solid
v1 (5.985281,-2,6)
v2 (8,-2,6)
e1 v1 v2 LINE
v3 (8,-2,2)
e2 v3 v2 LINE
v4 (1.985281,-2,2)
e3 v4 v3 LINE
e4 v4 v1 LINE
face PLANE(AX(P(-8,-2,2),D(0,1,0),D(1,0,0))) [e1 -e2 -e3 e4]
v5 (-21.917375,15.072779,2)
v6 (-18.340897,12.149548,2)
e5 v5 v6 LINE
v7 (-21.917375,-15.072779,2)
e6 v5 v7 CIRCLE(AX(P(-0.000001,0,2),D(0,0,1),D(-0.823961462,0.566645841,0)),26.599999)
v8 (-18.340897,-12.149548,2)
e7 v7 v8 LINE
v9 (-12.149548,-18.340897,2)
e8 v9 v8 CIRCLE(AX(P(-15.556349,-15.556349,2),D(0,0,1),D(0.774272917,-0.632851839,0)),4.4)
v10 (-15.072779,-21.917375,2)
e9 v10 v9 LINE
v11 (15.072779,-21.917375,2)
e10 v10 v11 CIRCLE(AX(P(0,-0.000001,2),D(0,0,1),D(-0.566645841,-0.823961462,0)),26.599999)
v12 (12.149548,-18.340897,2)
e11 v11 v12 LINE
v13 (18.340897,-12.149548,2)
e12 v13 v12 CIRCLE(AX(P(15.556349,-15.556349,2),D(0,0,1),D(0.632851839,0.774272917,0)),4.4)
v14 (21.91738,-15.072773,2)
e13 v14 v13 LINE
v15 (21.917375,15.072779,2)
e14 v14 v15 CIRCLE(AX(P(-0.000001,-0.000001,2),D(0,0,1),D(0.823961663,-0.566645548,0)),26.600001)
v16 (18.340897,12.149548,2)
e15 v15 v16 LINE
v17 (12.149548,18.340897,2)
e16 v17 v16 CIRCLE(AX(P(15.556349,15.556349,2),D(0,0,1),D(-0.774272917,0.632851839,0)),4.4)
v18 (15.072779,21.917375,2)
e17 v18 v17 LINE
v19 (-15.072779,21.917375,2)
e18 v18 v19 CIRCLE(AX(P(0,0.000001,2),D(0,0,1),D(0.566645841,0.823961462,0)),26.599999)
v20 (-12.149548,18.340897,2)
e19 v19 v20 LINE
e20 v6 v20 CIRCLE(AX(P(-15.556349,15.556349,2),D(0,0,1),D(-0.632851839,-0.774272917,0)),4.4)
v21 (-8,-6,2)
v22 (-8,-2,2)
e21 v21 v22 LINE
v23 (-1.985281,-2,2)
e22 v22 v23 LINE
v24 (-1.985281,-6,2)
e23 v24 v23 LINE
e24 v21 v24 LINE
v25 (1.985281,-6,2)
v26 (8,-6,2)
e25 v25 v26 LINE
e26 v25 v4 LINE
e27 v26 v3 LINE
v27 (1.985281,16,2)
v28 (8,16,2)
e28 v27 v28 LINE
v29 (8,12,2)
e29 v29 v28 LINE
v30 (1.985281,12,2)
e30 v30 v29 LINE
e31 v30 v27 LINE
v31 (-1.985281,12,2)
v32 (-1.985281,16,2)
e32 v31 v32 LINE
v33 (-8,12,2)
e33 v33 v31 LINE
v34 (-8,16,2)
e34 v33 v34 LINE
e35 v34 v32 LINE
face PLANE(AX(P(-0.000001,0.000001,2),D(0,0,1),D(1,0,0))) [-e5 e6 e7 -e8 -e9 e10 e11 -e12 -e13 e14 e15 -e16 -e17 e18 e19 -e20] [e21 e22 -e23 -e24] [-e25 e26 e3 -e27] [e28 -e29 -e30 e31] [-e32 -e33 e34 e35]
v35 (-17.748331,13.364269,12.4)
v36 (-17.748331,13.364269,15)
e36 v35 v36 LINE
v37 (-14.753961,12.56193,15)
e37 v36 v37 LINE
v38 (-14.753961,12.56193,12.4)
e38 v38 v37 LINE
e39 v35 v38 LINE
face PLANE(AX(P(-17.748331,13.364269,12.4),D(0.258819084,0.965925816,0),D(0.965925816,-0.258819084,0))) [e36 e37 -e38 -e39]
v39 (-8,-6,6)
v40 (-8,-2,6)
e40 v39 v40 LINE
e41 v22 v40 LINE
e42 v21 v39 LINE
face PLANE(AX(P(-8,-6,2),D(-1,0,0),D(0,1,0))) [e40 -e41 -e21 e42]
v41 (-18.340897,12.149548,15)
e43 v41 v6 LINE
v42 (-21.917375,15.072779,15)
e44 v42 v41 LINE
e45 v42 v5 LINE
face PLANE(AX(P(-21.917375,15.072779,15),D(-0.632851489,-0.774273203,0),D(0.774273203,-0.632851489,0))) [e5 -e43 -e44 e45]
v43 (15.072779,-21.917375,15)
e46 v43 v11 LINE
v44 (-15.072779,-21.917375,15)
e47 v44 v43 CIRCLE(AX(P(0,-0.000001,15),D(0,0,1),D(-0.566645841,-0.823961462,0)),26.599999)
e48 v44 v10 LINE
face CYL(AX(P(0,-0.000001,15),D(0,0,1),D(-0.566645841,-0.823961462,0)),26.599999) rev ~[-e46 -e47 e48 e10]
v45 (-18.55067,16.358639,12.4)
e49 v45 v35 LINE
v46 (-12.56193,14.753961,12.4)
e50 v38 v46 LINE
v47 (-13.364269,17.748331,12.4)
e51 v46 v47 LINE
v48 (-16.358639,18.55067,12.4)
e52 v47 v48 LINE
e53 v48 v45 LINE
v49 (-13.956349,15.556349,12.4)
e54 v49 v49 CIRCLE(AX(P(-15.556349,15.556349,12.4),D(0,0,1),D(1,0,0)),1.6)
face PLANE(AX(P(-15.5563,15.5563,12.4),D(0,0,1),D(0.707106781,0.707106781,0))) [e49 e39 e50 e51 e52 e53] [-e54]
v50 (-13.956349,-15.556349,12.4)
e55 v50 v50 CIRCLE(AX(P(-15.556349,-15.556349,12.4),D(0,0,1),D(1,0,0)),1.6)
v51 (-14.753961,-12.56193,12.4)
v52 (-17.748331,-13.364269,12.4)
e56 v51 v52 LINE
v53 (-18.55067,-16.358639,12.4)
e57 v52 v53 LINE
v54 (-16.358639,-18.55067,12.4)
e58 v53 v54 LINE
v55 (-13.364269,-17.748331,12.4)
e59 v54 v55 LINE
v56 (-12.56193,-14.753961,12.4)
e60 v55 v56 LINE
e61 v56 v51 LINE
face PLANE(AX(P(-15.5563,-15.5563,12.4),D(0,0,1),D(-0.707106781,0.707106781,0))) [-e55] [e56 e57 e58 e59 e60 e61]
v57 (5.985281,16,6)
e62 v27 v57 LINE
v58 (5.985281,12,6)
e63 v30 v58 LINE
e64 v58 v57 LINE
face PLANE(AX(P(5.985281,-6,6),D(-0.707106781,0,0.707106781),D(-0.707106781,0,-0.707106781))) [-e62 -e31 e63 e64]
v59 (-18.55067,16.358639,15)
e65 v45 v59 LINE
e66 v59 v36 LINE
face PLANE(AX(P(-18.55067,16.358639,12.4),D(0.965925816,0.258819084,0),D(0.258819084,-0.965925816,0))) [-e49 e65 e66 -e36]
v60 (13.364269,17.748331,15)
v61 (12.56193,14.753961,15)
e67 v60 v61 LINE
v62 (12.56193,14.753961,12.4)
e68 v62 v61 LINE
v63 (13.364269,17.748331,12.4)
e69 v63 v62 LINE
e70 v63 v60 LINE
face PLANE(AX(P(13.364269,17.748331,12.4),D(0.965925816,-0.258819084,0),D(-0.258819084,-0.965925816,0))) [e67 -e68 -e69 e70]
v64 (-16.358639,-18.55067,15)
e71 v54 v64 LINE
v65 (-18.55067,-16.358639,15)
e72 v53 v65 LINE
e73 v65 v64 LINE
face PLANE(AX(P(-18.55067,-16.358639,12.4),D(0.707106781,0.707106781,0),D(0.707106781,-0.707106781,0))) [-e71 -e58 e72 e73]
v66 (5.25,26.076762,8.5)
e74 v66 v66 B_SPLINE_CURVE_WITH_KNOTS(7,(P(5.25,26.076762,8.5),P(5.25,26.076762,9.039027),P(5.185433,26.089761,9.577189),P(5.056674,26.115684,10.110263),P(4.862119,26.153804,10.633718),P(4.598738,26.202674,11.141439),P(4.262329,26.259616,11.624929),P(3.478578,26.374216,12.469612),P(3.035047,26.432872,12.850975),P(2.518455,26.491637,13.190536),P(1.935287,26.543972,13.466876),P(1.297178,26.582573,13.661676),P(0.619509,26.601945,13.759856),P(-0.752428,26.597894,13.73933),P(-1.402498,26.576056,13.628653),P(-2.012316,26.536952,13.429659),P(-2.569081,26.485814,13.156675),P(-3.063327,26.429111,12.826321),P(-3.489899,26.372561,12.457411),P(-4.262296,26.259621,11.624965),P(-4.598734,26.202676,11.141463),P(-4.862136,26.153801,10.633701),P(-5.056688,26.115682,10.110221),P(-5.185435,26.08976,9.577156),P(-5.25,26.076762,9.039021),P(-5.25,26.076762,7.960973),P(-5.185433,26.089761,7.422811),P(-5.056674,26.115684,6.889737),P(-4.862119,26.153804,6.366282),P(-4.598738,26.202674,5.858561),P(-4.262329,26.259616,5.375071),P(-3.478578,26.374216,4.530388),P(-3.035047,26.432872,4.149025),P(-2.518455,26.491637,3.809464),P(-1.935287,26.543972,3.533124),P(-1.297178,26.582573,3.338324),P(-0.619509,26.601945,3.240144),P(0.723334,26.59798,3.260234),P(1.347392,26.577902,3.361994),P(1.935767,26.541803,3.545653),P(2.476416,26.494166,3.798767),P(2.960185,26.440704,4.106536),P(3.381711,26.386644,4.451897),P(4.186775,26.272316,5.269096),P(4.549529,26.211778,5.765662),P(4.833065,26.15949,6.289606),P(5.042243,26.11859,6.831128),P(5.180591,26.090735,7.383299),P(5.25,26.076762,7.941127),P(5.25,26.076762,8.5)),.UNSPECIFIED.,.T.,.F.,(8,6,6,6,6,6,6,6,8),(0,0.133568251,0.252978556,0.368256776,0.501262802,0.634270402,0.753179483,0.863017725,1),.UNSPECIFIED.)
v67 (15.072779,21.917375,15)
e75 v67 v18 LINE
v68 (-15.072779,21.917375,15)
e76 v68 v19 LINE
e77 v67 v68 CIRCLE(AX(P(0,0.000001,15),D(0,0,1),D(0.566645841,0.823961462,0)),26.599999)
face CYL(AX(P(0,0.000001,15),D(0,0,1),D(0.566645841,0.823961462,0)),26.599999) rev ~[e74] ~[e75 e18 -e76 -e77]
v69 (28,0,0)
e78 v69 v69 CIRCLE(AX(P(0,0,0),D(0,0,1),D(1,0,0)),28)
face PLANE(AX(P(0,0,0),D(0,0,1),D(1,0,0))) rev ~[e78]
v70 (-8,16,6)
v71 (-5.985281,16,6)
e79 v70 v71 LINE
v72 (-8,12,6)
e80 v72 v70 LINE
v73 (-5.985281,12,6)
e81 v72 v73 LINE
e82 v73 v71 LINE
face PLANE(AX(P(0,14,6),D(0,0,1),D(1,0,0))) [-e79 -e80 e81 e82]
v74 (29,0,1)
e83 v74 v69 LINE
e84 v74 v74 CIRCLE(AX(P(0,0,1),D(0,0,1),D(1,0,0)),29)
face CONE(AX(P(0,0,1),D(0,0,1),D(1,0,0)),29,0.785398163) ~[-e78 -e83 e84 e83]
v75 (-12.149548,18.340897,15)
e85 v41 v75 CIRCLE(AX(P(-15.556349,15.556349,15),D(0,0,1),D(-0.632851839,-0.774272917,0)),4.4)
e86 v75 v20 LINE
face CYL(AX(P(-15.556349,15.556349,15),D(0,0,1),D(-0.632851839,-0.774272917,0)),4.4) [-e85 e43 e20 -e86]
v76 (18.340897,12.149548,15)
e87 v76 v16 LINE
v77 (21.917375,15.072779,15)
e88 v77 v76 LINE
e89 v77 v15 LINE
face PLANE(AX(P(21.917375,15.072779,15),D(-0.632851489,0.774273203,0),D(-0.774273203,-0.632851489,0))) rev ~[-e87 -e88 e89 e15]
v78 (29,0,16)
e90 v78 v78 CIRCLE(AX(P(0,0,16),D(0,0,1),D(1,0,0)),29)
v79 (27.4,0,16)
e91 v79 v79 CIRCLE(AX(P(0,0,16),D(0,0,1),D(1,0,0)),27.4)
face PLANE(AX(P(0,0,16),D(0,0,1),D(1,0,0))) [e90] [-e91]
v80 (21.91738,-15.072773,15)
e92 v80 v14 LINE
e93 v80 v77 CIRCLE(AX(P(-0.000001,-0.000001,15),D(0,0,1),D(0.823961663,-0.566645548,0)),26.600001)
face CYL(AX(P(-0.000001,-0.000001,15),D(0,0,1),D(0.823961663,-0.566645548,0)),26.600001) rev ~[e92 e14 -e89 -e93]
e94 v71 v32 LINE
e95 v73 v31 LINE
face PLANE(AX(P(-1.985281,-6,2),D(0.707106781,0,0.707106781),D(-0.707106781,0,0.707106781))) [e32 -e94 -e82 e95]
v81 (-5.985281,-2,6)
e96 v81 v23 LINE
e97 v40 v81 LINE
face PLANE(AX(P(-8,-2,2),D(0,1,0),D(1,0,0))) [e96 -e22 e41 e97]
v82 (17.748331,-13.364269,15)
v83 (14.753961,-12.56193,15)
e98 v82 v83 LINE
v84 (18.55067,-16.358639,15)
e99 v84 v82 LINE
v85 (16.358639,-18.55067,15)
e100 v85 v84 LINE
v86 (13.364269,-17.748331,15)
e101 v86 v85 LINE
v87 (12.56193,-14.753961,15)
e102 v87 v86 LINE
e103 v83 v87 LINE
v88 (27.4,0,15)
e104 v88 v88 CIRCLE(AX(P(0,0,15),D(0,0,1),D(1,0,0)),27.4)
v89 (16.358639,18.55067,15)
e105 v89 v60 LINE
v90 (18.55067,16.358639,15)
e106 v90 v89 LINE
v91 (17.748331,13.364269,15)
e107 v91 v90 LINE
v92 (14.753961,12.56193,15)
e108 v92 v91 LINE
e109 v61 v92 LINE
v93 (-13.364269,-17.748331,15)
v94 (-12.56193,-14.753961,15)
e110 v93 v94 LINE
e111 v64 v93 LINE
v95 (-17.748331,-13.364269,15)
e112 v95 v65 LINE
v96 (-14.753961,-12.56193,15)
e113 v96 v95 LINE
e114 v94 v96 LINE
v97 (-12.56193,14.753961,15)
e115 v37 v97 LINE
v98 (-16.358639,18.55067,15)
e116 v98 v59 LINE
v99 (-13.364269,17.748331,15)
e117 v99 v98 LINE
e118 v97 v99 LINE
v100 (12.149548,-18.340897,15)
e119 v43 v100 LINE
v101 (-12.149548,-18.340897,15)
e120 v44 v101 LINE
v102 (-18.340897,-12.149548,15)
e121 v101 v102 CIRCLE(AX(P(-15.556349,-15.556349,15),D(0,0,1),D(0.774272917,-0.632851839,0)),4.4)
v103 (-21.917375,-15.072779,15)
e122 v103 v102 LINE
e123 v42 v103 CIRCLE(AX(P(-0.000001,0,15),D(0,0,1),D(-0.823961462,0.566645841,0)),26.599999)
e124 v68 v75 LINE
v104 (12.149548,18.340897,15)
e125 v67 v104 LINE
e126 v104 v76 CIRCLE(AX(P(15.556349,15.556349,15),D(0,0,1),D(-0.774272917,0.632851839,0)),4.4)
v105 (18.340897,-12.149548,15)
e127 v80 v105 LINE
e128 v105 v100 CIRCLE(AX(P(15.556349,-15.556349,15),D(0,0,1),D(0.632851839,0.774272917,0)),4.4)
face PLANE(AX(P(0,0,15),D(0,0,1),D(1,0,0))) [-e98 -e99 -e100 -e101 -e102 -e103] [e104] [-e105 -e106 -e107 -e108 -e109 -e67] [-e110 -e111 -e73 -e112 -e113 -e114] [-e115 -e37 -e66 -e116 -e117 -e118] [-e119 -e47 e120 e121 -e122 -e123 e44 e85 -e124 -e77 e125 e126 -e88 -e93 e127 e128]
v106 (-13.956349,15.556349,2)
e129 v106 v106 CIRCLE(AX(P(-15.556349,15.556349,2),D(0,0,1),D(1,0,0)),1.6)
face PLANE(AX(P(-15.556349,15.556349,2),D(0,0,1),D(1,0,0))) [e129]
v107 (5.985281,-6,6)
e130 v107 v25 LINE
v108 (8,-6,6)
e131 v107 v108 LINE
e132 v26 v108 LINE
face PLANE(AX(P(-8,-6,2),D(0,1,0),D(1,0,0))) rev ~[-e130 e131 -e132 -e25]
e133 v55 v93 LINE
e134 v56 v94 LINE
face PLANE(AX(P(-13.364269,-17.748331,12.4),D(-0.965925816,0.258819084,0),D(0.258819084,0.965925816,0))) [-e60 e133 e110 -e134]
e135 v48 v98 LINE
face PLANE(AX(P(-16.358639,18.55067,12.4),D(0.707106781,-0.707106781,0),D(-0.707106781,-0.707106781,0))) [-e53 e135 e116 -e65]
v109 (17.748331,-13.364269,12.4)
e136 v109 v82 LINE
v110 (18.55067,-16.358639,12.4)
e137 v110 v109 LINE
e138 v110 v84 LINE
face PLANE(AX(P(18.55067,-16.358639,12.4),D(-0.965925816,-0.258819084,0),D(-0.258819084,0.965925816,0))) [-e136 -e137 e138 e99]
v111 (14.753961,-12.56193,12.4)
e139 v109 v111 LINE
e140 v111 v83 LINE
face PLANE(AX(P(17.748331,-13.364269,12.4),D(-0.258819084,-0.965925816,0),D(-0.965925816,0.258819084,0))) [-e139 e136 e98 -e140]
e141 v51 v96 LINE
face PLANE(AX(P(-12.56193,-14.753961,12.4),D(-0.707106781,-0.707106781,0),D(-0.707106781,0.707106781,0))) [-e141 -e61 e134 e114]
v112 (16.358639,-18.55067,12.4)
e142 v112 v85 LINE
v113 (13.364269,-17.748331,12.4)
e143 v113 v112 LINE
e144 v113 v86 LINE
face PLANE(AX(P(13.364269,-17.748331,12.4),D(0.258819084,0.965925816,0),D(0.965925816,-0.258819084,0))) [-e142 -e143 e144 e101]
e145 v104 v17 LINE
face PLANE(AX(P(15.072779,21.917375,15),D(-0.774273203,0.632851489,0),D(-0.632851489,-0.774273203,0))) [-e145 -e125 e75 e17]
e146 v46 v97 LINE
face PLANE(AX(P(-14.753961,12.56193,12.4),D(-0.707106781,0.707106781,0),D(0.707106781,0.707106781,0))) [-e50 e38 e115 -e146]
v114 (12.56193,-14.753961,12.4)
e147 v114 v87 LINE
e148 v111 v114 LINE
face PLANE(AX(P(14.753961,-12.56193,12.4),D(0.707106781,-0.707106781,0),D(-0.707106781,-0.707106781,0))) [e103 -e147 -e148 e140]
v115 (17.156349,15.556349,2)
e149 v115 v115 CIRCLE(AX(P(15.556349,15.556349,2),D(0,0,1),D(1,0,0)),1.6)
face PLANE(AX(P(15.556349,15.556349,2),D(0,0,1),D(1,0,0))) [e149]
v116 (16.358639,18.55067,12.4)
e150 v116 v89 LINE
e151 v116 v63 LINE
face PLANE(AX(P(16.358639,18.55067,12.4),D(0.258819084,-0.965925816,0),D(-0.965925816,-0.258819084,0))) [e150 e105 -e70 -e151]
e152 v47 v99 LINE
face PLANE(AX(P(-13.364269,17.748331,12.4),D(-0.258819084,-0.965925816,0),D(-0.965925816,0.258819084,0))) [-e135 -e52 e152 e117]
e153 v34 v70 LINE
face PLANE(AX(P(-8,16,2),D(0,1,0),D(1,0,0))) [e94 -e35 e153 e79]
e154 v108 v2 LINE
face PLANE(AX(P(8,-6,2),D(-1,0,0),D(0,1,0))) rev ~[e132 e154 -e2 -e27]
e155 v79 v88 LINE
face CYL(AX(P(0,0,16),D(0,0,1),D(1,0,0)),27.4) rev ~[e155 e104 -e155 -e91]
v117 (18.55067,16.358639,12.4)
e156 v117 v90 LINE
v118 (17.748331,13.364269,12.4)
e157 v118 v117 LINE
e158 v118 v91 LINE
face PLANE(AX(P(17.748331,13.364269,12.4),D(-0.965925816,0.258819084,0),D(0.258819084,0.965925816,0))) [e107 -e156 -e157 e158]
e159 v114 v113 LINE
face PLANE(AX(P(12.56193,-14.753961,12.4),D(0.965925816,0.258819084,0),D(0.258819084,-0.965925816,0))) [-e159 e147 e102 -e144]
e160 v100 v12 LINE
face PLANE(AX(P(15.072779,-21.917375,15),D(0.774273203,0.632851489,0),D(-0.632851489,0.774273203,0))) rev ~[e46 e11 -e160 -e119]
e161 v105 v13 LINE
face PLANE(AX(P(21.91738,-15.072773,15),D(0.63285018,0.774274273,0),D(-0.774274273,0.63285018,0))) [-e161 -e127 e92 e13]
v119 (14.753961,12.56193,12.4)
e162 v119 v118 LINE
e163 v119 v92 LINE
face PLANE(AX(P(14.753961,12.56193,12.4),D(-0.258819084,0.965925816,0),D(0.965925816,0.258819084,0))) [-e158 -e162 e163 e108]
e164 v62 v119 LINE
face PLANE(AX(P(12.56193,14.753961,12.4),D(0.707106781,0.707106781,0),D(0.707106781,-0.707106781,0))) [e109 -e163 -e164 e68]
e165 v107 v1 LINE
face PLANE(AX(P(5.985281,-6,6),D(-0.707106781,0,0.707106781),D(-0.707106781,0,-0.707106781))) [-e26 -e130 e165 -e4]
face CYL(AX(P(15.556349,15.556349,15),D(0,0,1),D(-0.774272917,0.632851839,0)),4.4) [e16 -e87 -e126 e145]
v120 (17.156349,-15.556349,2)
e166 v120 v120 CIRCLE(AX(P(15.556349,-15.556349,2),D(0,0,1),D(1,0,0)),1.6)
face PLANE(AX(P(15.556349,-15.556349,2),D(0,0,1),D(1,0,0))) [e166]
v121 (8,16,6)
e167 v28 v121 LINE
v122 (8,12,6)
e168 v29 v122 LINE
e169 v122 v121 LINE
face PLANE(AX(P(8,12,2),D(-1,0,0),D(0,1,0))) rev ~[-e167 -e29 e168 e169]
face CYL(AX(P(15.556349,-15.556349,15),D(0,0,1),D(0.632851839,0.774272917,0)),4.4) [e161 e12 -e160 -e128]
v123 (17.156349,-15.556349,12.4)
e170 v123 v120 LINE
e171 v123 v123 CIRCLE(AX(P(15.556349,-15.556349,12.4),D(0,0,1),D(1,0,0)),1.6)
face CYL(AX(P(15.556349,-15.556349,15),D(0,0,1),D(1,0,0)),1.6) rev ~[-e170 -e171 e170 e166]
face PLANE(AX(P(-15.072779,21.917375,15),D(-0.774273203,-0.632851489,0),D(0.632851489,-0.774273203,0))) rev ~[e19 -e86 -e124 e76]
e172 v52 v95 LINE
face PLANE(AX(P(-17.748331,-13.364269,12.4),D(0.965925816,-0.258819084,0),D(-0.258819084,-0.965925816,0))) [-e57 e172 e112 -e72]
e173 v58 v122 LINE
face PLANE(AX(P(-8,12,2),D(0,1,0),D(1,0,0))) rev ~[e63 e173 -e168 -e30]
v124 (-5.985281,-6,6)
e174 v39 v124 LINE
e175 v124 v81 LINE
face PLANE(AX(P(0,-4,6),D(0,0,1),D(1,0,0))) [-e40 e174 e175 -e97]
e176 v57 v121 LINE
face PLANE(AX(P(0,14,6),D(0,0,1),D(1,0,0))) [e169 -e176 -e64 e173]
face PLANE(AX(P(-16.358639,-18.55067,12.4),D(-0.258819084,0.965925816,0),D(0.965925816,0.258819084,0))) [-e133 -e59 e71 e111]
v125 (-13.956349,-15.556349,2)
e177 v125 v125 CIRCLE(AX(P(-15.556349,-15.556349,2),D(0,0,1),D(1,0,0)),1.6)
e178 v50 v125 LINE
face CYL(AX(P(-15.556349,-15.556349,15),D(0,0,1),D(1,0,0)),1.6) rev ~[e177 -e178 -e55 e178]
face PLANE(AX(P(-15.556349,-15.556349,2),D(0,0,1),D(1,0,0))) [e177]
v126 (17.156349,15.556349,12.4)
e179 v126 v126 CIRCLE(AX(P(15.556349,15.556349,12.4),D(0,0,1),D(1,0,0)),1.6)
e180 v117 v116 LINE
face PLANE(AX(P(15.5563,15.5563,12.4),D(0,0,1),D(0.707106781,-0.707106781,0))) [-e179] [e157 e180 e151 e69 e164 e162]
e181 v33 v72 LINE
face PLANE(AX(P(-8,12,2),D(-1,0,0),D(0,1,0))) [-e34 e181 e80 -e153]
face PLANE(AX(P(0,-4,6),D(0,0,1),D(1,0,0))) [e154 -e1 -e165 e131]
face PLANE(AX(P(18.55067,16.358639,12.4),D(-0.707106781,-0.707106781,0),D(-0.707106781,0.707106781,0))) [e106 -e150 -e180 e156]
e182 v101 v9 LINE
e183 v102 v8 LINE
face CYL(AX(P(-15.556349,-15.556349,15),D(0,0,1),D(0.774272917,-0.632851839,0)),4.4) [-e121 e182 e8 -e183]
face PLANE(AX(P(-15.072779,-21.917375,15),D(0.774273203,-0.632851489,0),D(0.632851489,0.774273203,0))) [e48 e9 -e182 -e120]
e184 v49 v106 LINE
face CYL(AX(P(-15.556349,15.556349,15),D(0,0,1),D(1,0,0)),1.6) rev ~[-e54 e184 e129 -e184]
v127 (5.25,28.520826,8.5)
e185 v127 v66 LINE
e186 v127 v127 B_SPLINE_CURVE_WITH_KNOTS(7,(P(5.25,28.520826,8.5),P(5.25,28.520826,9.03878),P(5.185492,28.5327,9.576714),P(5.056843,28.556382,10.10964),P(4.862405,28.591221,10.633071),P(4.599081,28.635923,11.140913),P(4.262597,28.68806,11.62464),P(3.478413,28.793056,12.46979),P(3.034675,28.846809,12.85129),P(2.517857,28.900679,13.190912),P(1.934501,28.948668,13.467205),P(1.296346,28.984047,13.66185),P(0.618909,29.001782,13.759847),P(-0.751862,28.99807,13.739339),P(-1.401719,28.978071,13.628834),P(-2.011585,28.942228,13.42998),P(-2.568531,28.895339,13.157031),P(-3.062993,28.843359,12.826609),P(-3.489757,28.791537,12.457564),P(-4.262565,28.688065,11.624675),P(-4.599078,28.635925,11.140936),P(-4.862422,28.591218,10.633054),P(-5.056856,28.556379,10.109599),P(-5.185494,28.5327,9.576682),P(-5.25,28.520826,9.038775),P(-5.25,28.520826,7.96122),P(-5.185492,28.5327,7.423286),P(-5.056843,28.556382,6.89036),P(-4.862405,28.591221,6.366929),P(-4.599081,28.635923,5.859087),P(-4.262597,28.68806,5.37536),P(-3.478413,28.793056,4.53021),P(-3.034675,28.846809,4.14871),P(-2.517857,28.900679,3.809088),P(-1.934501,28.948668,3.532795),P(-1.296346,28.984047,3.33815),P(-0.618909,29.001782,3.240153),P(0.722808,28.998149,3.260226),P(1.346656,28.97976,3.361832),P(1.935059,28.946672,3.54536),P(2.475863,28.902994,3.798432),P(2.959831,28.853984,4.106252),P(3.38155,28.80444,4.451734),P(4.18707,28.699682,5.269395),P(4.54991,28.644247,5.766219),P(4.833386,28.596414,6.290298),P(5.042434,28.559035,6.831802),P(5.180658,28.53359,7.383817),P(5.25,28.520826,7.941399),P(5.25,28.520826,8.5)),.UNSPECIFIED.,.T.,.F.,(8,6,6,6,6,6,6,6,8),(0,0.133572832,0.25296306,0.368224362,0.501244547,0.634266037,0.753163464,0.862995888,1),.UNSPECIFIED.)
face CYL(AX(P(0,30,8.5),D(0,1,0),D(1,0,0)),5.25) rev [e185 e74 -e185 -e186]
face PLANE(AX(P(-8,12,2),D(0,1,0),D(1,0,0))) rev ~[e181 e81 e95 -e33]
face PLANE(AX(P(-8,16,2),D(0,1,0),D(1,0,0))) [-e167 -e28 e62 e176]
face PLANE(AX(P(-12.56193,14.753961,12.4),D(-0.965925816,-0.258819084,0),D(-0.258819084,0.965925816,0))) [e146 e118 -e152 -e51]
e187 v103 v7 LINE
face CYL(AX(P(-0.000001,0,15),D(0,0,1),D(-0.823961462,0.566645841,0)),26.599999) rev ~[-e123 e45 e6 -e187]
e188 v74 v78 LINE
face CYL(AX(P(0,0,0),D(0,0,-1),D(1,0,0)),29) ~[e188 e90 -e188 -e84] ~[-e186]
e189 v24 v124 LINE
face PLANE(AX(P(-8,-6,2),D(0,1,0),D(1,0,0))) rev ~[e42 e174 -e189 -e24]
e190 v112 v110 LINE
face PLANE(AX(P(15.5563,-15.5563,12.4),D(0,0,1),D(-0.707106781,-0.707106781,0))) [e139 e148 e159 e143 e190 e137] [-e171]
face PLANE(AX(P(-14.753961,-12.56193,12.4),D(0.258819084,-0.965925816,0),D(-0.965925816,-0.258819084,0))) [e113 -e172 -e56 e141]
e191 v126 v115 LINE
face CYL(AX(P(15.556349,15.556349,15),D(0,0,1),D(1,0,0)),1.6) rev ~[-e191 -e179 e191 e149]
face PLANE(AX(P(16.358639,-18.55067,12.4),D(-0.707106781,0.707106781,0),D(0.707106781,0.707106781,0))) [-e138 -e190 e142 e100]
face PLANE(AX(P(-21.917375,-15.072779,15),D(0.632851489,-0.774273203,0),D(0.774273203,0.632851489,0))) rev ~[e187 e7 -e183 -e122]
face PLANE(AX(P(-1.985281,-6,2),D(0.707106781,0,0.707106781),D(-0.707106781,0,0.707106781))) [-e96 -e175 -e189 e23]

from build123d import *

# Parameters (mm, degrees)
PRISM002_DEPTH           = 2.6
PRISM002_PLACEMENT_ANGLE = 45
ARRAY_COUNT              = 4
CYLINDER003_R            = 5.25
CYLINDER003_DEPTH        = 36
CYLINDER003_ROLL_ANGLE   = 90
SKETCH011_R              = 29
PAD006_DEPTH             = 16
SKETCH_R                 = 27.4
POCKET_DEPTH             = 1
SKETCH012_R              = 1.6
POCKET003_DEPTH          = 13
SKETCH013_W              = 16
SKETCH013_H              = 4
PAD_DEPTH                = 4
POCKET004_DEPTH          = 24
CHAMFER_SIZE             = 1


with BuildPart() as array:
    # Prism002 → Prism002 (new body)
    with BuildSketch(Plane.XY):
        Polygon((3.1, 0), (1.55, 2.684679), (-1.55, 2.684679), (-3.1, 0), (-1.55, -2.684679), (1.55, -2.684679), align=None)
    extrude(amount=PRISM002_DEPTH)


with BuildPart() as array_1:
    # Prism002 placement: moved
    add(array.part.moved(Location((-15.5563, 15.5563, 12.4))).rotate(Axis((-15.5563, 15.5563, 12.4), (0, 0, 1)), PRISM002_PLACEMENT_ANGLE))

    # Array: Array ×4 about axis
    array_axis = Axis((0, 0, 0), (0, 0, 1))


with BuildPart() as array_2:
    add(array_1.part)
    for i in range(1, ARRAY_COUNT):
        add(array_1.part.rotate(array_axis, i * 360 / ARRAY_COUNT))


with BuildPart() as laser_pointer:
    # Cylinder003 → Cylinder003 (new body)
    with BuildSketch(Plane.XY):
        Circle(CYLINDER003_R)
    extrude(amount=CYLINDER003_DEPTH)


with BuildPart() as laser_pointer_1:
    # Cylinder003 roll: moved
    add(laser_pointer.part.rotate(Axis((0, 0, 0), (1, 0, 0)), CYLINDER003_ROLL_ANGLE))


with BuildPart() as laser_pointer_2:
    # Cylinder003 placement: moved
    add(laser_pointer_1.part.moved(Location((0, 30, 8.5))))


with BuildPart() as laser_enclosure:
    # Sketch011 → Pad006 (new body)
    with BuildSketch(Plane.XY):
        Circle(SKETCH011_R)
    extrude(amount=PAD006_DEPTH)

    # Sketch → Pocket (cut)
    with BuildSketch(Plane.XY.offset(16)):
        Circle(SKETCH_R)
    extrude(amount=-POCKET_DEPTH, mode=Mode.SUBTRACT)

    # Sketch012 → Pocket003 (cut)
    with BuildSketch(Plane.XY.offset(15)):
        with Locations((-15.556349, 15.556349)):
            Circle(SKETCH012_R)
        with Locations((-15.556349, -15.556349)):
            Circle(SKETCH012_R)
        with Locations((15.556349, -15.556349)):
            Circle(SKETCH012_R)
        with Locations((15.556349, 15.556349)):
            Circle(SKETCH012_R)
        with BuildLine():
            ThreePointArc((-15.072779, -21.917375), (0, -26.6), (15.072779, -21.917375))
            Line((15.072779, -21.917375), (12.149548, -18.340897))
            ThreePointArc((18.340897, -12.149548), (12.445079, -12.445079), (12.149548, -18.340897))
            Line((21.91738, -15.072773), (18.340897, -12.149548))
            ThreePointArc((21.91738, -15.072773), (26.6, 4e-06), (21.917375, 15.072779))
            Line((21.917375, 15.072779), (18.340897, 12.149548))
            ThreePointArc((12.149548, 18.340897), (12.445079, 12.445079), (18.340897, 12.149548))
            Line((15.072779, 21.917375), (12.149548, 18.340897))
            ThreePointArc((15.072779, 21.917375), (0, 26.6), (-15.072779, 21.917375))
            Line((-15.072779, 21.917375), (-12.149548, 18.340897))
            ThreePointArc((-18.340897, 12.149548), (-12.445079, 12.445079), (-12.149548, 18.340897))
            Line((-21.917375, 15.072779), (-18.340897, 12.149548))
            ThreePointArc((-21.917375, 15.072779), (-26.6, 0), (-21.917375, -15.072779))
            Line((-21.917375, -15.072779), (-18.340897, -12.149548))
            ThreePointArc((-12.149548, -18.340897), (-12.445079, -12.445079), (-18.340897, -12.149548))
            Line((-15.072779, -21.917375), (-12.149548, -18.340897))
        make_face()
    extrude(amount=-POCKET003_DEPTH, mode=Mode.SUBTRACT)

    # Sketch013 → Pad (new body)
    with BuildSketch(Plane.XY.offset(2)):
        with Locations((0, 14)):
            Rectangle(SKETCH013_W, SKETCH013_H)
        with Locations((0, -4)):
            Rectangle(SKETCH013_W, SKETCH013_H)
    extrude(amount=PAD_DEPTH)

    # Sketch014 → Pocket004 (cut)
    with BuildSketch(Plane.XZ.offset(6)):
        Polygon((5.985281, 6), (1.985281, 2), (-1.985281, 2), (-5.985281, 6), align=None)
    extrude(amount=-POCKET004_DEPTH, mode=Mode.SUBTRACT)

    # Cut: cut Laser pointer
    add(laser_pointer_2.part, mode=Mode.SUBTRACT)

    # Cut001: cut Array
    add(array_2.part, mode=Mode.SUBTRACT)

    # Chamfer
    chamfer_edges = [laser_enclosure.edges().sort_by_distance(p)[0] for p in [
        (-29, 0, 0),
    ]]
    chamfer(chamfer_edges, length=CHAMFER_SIZE)


solid = laser_enclosure.part
